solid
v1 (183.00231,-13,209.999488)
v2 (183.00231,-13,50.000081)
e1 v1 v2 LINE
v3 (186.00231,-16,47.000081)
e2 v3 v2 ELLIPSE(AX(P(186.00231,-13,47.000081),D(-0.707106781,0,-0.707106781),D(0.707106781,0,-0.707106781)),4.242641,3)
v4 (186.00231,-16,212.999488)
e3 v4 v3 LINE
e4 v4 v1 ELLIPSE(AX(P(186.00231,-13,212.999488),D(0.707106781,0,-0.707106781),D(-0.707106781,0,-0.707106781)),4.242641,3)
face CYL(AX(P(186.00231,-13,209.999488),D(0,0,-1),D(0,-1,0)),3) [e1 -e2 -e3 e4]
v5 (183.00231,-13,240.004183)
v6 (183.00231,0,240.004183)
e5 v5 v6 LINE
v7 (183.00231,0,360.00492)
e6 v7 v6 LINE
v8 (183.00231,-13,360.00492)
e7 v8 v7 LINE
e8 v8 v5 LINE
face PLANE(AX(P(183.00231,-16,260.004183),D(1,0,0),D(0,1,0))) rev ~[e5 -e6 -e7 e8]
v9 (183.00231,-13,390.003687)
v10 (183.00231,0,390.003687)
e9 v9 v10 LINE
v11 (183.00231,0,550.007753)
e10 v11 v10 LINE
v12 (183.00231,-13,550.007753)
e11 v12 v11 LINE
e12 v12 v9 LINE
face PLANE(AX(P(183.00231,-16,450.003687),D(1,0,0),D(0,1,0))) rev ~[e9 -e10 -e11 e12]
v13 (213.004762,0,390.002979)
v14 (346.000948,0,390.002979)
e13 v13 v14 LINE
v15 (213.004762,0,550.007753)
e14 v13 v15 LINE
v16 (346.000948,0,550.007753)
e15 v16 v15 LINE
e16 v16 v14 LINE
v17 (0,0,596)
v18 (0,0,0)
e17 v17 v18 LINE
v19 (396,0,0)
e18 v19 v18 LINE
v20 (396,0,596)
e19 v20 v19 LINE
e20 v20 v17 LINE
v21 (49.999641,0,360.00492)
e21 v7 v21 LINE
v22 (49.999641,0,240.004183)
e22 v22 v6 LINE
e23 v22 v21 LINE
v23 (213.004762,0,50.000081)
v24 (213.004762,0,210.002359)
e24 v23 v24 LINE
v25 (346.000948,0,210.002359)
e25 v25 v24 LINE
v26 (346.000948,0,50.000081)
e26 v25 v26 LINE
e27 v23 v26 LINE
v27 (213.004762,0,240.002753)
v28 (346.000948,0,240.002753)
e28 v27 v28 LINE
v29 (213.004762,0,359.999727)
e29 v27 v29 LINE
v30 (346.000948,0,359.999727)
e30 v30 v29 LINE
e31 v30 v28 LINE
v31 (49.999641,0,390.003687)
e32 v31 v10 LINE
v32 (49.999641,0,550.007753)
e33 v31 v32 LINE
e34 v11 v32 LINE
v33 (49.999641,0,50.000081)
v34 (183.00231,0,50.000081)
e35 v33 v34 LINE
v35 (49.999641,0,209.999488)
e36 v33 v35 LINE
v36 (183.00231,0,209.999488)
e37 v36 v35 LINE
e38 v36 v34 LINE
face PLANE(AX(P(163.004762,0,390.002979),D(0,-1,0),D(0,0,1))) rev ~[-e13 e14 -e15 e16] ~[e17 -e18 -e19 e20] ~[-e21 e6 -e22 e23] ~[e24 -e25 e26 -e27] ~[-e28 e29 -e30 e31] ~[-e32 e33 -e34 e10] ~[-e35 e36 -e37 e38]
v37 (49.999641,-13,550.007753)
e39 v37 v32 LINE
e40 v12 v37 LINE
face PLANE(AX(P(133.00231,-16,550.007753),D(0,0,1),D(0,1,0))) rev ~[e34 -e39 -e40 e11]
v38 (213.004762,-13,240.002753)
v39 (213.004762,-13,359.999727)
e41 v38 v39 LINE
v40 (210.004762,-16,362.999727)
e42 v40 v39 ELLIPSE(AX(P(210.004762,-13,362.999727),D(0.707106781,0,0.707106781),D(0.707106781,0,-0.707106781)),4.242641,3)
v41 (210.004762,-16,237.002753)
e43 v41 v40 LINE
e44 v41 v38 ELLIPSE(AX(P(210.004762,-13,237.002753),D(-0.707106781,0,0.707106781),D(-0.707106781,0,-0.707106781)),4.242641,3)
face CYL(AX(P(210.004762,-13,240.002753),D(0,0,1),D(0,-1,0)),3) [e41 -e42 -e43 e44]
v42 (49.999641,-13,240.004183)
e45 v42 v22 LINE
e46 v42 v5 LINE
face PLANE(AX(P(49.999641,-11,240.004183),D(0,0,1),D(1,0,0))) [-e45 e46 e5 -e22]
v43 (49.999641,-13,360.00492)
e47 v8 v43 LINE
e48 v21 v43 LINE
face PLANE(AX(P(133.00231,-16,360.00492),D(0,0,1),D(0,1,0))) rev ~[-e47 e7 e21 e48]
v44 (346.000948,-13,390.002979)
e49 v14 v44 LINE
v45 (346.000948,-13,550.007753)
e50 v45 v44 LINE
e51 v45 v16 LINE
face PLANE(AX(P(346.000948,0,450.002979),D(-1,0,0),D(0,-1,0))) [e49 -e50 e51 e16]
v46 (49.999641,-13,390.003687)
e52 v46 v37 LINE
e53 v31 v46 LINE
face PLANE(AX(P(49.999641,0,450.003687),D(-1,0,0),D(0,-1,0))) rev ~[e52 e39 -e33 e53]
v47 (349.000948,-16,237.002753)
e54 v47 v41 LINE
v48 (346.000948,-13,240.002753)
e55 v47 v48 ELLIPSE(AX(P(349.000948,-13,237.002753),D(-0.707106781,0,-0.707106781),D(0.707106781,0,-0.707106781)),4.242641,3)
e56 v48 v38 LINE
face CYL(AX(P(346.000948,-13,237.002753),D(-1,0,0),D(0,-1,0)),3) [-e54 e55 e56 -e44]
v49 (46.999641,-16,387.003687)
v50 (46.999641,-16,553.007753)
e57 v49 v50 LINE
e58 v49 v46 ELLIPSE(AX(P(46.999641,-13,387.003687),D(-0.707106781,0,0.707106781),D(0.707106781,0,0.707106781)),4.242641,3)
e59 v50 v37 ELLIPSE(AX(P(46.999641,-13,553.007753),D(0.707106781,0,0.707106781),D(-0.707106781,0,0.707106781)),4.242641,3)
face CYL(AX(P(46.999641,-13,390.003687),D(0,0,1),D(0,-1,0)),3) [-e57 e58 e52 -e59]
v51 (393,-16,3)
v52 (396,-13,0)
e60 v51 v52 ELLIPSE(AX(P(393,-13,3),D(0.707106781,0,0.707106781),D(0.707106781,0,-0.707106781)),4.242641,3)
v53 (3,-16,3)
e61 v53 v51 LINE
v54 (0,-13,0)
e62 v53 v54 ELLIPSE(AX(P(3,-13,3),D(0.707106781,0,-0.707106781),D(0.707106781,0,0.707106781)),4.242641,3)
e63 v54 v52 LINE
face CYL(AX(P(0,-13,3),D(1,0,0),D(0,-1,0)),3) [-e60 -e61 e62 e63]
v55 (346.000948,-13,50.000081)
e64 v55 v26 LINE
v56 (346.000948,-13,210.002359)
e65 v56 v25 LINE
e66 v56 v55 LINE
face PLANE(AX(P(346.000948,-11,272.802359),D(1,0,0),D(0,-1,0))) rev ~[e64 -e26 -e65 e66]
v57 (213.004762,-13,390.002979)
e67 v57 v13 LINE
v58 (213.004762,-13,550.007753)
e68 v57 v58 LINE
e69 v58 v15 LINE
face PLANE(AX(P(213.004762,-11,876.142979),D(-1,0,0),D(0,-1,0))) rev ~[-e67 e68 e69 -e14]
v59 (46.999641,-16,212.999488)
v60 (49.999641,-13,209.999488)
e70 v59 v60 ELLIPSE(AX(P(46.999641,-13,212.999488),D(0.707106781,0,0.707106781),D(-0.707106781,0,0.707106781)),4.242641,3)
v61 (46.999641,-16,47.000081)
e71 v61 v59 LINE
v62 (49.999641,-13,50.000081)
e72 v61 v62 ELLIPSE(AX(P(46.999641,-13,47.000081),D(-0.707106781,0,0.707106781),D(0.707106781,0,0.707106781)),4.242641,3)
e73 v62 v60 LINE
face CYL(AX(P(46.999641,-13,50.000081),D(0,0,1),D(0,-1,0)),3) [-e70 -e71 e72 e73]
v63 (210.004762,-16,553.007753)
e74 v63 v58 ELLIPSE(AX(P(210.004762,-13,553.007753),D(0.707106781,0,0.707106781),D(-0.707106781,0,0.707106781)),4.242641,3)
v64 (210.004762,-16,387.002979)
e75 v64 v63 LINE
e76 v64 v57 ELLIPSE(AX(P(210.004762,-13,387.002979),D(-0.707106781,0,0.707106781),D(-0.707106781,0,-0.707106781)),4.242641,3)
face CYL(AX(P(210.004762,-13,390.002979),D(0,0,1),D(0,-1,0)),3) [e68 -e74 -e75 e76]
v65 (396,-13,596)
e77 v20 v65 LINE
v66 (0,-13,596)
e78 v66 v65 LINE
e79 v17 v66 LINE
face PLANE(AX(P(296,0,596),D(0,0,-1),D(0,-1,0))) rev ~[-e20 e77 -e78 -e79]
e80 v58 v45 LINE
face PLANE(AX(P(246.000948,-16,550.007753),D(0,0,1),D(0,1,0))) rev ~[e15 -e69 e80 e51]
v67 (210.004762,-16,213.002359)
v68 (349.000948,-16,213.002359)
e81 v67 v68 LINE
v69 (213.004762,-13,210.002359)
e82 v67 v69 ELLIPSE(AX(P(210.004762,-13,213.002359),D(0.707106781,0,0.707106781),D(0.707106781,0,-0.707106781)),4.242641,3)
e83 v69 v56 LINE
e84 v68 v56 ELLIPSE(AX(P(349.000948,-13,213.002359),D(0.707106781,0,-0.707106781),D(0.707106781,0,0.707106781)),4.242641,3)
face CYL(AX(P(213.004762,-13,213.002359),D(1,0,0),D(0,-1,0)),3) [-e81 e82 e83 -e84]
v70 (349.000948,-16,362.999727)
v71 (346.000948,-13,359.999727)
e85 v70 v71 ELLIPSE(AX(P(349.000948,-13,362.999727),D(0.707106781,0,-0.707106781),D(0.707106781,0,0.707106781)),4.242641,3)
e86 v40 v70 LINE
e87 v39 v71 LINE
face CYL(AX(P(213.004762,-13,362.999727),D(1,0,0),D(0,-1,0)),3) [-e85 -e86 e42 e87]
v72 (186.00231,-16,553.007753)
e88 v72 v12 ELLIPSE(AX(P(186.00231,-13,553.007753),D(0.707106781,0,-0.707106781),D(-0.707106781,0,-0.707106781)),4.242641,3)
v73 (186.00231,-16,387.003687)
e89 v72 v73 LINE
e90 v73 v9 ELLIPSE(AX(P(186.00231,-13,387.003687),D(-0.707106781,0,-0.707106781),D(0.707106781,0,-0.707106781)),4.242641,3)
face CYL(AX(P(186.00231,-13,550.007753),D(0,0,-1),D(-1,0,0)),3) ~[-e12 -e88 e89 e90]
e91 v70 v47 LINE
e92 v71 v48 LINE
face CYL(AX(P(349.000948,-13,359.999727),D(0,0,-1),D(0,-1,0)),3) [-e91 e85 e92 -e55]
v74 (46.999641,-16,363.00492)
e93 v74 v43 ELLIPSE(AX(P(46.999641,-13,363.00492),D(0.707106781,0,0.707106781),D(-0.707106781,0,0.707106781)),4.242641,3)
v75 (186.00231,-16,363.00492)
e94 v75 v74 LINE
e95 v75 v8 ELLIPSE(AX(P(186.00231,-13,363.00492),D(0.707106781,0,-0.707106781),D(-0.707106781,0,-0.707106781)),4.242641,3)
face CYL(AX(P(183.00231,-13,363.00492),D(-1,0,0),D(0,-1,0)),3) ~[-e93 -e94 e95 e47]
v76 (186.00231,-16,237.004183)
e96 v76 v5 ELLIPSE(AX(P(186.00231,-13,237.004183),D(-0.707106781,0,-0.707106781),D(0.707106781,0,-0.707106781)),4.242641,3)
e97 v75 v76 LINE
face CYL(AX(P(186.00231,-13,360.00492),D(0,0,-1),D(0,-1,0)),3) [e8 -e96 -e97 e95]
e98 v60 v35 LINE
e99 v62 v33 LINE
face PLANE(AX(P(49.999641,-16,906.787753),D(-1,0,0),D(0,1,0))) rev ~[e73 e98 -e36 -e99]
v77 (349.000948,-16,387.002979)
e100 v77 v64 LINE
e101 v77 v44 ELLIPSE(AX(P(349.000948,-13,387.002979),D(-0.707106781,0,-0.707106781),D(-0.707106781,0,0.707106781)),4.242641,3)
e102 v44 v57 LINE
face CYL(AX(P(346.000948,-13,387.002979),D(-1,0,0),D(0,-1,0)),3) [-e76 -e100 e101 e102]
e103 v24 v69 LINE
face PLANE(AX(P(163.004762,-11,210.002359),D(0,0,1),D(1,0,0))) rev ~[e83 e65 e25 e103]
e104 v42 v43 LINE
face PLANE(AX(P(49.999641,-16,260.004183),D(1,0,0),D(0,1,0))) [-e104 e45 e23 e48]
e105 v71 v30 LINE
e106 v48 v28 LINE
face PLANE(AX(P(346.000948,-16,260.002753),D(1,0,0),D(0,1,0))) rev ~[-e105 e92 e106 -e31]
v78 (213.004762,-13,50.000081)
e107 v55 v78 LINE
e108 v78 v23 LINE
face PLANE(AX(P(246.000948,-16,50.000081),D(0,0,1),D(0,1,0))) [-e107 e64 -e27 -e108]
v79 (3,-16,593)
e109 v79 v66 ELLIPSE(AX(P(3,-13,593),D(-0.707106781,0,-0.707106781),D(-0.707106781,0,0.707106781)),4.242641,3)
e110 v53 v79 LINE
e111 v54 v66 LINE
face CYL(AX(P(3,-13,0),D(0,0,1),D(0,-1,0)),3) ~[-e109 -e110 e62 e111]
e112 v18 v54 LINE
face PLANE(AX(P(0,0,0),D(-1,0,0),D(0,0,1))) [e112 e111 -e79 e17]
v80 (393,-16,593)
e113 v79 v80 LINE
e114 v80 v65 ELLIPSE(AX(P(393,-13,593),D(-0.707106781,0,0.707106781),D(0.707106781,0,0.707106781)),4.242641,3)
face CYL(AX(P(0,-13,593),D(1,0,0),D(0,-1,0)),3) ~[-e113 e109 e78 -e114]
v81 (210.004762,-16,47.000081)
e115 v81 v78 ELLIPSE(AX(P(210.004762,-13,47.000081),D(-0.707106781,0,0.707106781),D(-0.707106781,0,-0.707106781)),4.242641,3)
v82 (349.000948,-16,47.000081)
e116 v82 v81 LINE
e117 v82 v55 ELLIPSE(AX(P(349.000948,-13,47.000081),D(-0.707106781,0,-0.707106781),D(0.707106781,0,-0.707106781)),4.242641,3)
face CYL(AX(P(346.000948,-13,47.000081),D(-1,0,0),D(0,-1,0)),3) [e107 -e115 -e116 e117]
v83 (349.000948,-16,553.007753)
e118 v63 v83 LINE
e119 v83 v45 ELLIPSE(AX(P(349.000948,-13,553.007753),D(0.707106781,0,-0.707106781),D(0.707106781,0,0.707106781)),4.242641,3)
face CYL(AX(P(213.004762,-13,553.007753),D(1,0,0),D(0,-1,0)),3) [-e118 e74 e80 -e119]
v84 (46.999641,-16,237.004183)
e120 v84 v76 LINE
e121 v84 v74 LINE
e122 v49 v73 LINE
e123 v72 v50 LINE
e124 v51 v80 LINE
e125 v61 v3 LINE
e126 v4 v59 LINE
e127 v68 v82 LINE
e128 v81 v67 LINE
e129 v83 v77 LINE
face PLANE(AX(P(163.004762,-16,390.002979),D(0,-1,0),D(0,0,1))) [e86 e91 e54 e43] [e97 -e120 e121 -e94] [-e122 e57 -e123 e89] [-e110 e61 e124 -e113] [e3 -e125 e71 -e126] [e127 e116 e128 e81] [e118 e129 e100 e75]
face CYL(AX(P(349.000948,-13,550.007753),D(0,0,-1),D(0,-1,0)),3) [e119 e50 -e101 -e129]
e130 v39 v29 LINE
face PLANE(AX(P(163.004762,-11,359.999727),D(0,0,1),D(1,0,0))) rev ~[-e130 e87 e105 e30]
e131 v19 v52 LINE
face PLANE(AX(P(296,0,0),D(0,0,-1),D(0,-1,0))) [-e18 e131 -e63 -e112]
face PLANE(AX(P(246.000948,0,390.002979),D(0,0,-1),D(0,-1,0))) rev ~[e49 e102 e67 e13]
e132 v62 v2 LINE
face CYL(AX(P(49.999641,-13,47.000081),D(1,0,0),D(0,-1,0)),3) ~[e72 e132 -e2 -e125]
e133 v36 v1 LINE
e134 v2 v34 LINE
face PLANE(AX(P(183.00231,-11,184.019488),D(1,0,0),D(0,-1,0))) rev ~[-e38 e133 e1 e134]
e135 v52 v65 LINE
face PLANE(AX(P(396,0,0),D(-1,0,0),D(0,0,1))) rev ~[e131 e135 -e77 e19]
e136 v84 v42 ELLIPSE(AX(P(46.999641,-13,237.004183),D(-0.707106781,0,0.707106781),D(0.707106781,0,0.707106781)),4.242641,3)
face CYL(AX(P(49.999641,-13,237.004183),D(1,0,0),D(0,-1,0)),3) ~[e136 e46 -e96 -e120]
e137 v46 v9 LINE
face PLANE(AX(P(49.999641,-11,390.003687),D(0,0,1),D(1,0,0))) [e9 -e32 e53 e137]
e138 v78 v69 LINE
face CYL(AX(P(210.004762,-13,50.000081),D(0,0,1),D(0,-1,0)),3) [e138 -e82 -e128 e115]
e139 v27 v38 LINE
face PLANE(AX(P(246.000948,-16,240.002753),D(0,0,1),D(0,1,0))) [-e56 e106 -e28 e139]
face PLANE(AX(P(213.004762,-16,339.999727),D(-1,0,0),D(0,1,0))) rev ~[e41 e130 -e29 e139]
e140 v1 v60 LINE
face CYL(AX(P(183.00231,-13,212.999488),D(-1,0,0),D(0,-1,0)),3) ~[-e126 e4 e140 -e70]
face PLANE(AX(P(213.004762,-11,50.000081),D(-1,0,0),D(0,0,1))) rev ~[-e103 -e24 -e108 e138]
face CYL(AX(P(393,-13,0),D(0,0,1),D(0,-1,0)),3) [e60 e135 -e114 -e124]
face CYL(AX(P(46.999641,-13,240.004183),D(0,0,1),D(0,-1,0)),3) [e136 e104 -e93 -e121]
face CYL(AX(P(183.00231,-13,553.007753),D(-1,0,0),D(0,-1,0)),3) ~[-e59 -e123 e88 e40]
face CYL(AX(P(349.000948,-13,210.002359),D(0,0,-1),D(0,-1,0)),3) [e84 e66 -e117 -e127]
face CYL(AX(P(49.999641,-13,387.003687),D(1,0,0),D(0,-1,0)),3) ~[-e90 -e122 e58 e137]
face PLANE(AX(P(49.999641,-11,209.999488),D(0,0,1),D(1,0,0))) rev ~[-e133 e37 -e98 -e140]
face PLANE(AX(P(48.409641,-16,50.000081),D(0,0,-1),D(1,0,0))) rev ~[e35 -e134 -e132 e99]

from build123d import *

# Parameters (mm, degrees)
F0_W      = 28.8499742746
F0_H      = 37.8827601671
F1_DEPTH  = 16
F2_DEPTH  = 296
F3_DEPTH  = 996
F4_W      = 199.8313069344
F4_H      = 801.1276721954
F5_DEPTH  = 5
F6_DEPTH  = 39.21
F7_DEPTH  = 2.24
F8_DEPTH  = 55.66
F9_DEPTH  = 1.59
F10_W     = 54.77245152
F10_H     = 895.9976721954
F11_DEPTH = 5
F12_DEPTH = 5.86
F13_DEPTH = 18.91
F14_W     = 83.0026693535
F14_H     = 34.9487662315
F14_H_2   = 55.274695158
F15_W     = 82.9961860609
F15_H     = 44.8832511902
F15_H_2   = 52.5203943253
F16_DEPTH = 5
F17_DEPTH = 300
F18_DEPTH = 300
F19_DEPTH = 324.79
F20_DEPTH = 324.79
F21_DEPTH = 250
F22_DEPTH = 250
F23_DEPTH = 100
F24_DEPTH = 100
F25_DEPTH = 50
F26_DEPTH = 50
F27_DEPTH = 134.02
F28_DEPTH = 100
F29_DEPTH = 100
F30_DEPTH = 100
F31_DEPTH = 50
F32_DEPTH = 54.95
F33_DEPTH = 50
F34_DEPTH = 109.29
F35_DEPTH = 14.88
F36_DEPTH = 230.15
F37_DEPTH = 230.15
F38_DEPTH = 22.52
F39_DEPTH = 77.2
F40_DEPTH = 77.2
F41_DEPTH = 11
F42_DEPTH = 100
F43_DEPTH = 100
F44_DEPTH = 195.99
F45_DEPTH = 195.99
F46_DEPTH = 295.99
F47_DEPTH = 295.99
F48_DEPTH = 100
F49_DEPTH = 104.01
F50_DEPTH = 20
F51_DEPTH = 20
F52_DEPTH = 20
F53_DEPTH = 80
F54_DEPTH = 80
F55_DEPTH = 20
F56_DEPTH = 20
F57_DEPTH = 20
F58_DEPTH = 20
F59_DEPTH = 100
F60_DEPTH = 100
F61_DEPTH = 50
F62_DEPTH = 50
F63_R     = 3


with BuildPart() as f1:
    # F0 (on Front) → F1 (new body)
    with BuildSketch(Plane.XZ):
        with Locations((14.4249871373, 18.9413800836)):
            Rectangle(F0_W, F0_H)
    extrude(amount=F1_DEPTH)

    # F2 (add): a face of the model
    f2_faces = [f1.faces().sort_by_distance(p)[0] for p in [
        (0, -8, 18.9413800836),
    ]]
    extrude(f2_faces, amount=-F2_DEPTH)

    # F3 (add): a face of the model
    f3_faces = [f1.faces().sort_by_distance(p)[0] for p in [
        (148, -8, 0),
    ]]
    extrude(f3_faces, amount=-F3_DEPTH)

    # F4 (on face) → F5 (cut)
    with BuildSketch(Plane.XZ.offset(16)):
        with Locations((148.3252942562, 506.2239170074)):
            Rectangle(F4_W, F4_H)
    extrude(amount=-F5_DEPTH, mode=Mode.SUBTRACT)

    # F6 (cut): a face of the model
    f6_faces = [f1.faces().sort_by_distance(p)[0] for p in [
        (148.3252942562, -13.5, 906.7877531052),
    ]]
    extrude(f6_faces, amount=-F6_DEPTH, mode=Mode.SUBTRACT)

    # F7 (add): a face of the model
    f7_faces = [f1.faces().sort_by_distance(p)[0] for p in [
        (248.2409477234, -13.5, 525.8289170074),
    ]]
    extrude(f7_faces, amount=F7_DEPTH)

    # F8 (cut): a face of the model
    f8_faces = [f1.faces().sort_by_distance(p)[0] for p in [
        (147.2052942562, -13.5, 105.6600809097),
    ]]
    extrude(f8_faces, amount=-F8_DEPTH, mode=Mode.SUBTRACT)

    # F9 (add): a face of the model
    f9_faces = [f1.faces().sort_by_distance(p)[0] for p in [
        (48.409640789, -13.5, 497.9989170074),
    ]]
    extrude(f9_faces, amount=F9_DEPTH)

    # F10 (on face) → F11 (join)
    with BuildSketch(Plane.XZ.offset(11)):
        with Locations((154.5285359025, 497.9989170074)):
            Rectangle(F10_W, F10_H)
    extrude(amount=F11_DEPTH)

    # F12 (cut): a face of the model
    f12_faces = [f1.faces().sort_by_distance(p)[0] for p in [
        (127.1423101425, -13.5, 497.9989170074),
    ]]
    extrude(f12_faces, amount=-F12_DEPTH, mode=Mode.SUBTRACT)

    # F13 (cut): a face of the model
    f13_faces = [f1.faces().sort_by_distance(p)[0] for p in [
        (181.9147616625, -13.5, 497.9989170074),
    ]]
    extrude(f13_faces, amount=-F13_DEPTH, mode=Mode.SUBTRACT)

    # F14 (on face) + F15 (on face) → F16 (join)
    with BuildSketch(Plane.XZ.offset(11)):
        with Locations((91.5009754658, 853.3093035221)):
            Rectangle(F14_W, F14_H)
        with Locations((91.5009754658, 511.6568356752)):
            Rectangle(F14_W, F14_H_2)
    with BuildSketch(Plane.XZ.offset(11)):
        with Locations((204.5028546929, 853.7013530731)):
            Rectangle(F15_W, F15_H)
        with Locations((204.5028546929, 576.5425562859)):
            Rectangle(F15_W, F15_H_2)
    extrude(amount=F16_DEPTH)

    # F17 (add): faces of the model
    f17_faces = [f1.faces().sort_by_distance(p)[0] for p in [
        (204.5028546929, -13.5, 550.2823591232),
        (91.5009754658, -13.5, 484.0194880962),
    ]]
    extrude(f17_faces, amount=F17_DEPTH)

    # F18 (cut): faces of the model
    f18_faces = [f1.faces().sort_by_distance(p)[0] for p in [
        (91.5009754658, -13.5, 539.2941832542),
        (204.5028546929, -13.5, 602.8027534485),
    ]]
    extrude(f18_faces, amount=-F18_DEPTH, mode=Mode.SUBTRACT)

    # F19 (add): a face of the model
    f19_faces = [f1.faces().sort_by_distance(p)[0] for p in [
        (91.5009754658, -13.5, 835.8349204063),
    ]]
    extrude(f19_faces, amount=F19_DEPTH)

    # F20 (cut): a face of the model
    f20_faces = [f1.faces().sort_by_distance(p)[0] for p in [
        (91.5009754658, -13.5, 870.7836866379),
    ]]
    extrude(f20_faces, amount=-F20_DEPTH, mode=Mode.SUBTRACT)

    # F21 (add): a face of the model
    f21_faces = [f1.faces().sort_by_distance(p)[0] for p in [
        (91.5009754658, -13.5, 239.2941832542),
    ]]
    extrude(f21_faces, amount=F21_DEPTH)

    # F22 (cut): a face of the model
    f22_faces = [f1.faces().sort_by_distance(p)[0] for p in [
        (91.5009754658, -13.5, 184.0194880962),
    ]]
    extrude(f22_faces, amount=-F22_DEPTH, mode=Mode.SUBTRACT)

    # F23 (add): a face of the model
    f23_faces = [f1.faces().sort_by_distance(p)[0] for p in [
        (91.5009754658, -13.5, 545.9936866379),
    ]]
    extrude(f23_faces, amount=F23_DEPTH)

    # F24 (cut): a face of the model
    f24_faces = [f1.faces().sort_by_distance(p)[0] for p in [
        (91.5009754658, -13.5, 511.0449204063),
    ]]
    extrude(f24_faces, amount=-F24_DEPTH, mode=Mode.SUBTRACT)

    # F25 (add): a face of the model
    f25_faces = [f1.faces().sort_by_distance(p)[0] for p in [
        (91.5009754658, -13.5, 645.9936866379),
    ]]
    extrude(f25_faces, amount=F25_DEPTH)

    # F26 (cut): a face of the model
    f26_faces = [f1.faces().sort_by_distance(p)[0] for p in [
        (91.5009754658, -13.5, 611.0449204063),
    ]]
    extrude(f26_faces, amount=-F26_DEPTH, mode=Mode.SUBTRACT)

    # F27 (add): a face of the model
    f27_faces = [f1.faces().sort_by_distance(p)[0] for p in [
        (91.5009754658, -13.5, 434.0194880962),
    ]]
    extrude(f27_faces, amount=F27_DEPTH)

    # F28 (cut): a face of the model
    f28_faces = [f1.faces().sort_by_distance(p)[0] for p in [
        (91.5009754658, -13.5, 299.9994880962),
    ]]
    extrude(f28_faces, amount=-F28_DEPTH, mode=Mode.SUBTRACT)

    # F29 (add): a face of the model
    f29_faces = [f1.faces().sort_by_distance(p)[0] for p in [
        (91.5009754658, -13.5, 661.0449204063),
    ]]
    extrude(f29_faces, amount=F29_DEPTH)

    # F30 (cut): a face of the model
    f30_faces = [f1.faces().sort_by_distance(p)[0] for p in [
        (91.5009754658, -13.5, 695.9936866379),
    ]]
    extrude(f30_faces, amount=-F30_DEPTH, mode=Mode.SUBTRACT)

    # F31 (add): a face of the model
    f31_faces = [f1.faces().sort_by_distance(p)[0] for p in [
        (91.5009754658, -13.5, 595.9936866379),
    ]]
    extrude(f31_faces, amount=F31_DEPTH)

    # F32 (cut): a face of the model
    f32_faces = [f1.faces().sort_by_distance(p)[0] for p in [
        (91.5009754658, -13.5, 561.0449204063),
    ]]
    extrude(f32_faces, amount=-F32_DEPTH, mode=Mode.SUBTRACT)

    # F33 (add): a face of the model
    f33_faces = [f1.faces().sort_by_distance(p)[0] for p in [
        (91.5009754658, -13.5, 399.9994880962),
    ]]
    extrude(f33_faces, amount=F33_DEPTH)

    # F34 (cut): a face of the model
    f34_faces = [f1.faces().sort_by_distance(p)[0] for p in [
        (91.5009754658, -13.5, 489.2941832542),
    ]]
    extrude(f34_faces, amount=-F34_DEPTH, mode=Mode.SUBTRACT)

    # F35 (cut): a face of the model
    f35_faces = [f1.faces().sort_by_distance(p)[0] for p in [
        (204.5028546929, -13.5, 831.259727478),
    ]]
    extrude(f35_faces, amount=-F35_DEPTH, mode=Mode.SUBTRACT)

    # F36 (add): a face of the model
    f36_faces = [f1.faces().sort_by_distance(p)[0] for p in [
        (204.5028546929, -13.5, 846.139727478),
    ]]
    extrude(f36_faces, amount=F36_DEPTH)

    # F37 (cut): a face of the model
    f37_faces = [f1.faces().sort_by_distance(p)[0] for p in [
        (204.5028546929, -13.5, 876.1429786682),
    ]]
    extrude(f37_faces, amount=-F37_DEPTH, mode=Mode.SUBTRACT)

    # F38 (cut): a face of the model
    f38_faces = [f1.faces().sort_by_distance(p)[0] for p in [
        (204.5028546929, -13.5, 250.2823591232),
    ]]
    extrude(f38_faces, amount=-F38_DEPTH, mode=Mode.SUBTRACT)

    # F39 (add): a face of the model
    f39_faces = [f1.faces().sort_by_distance(p)[0] for p in [
        (204.5028546929, -13.5, 302.8027534485),
    ]]
    extrude(f39_faces, amount=F39_DEPTH)

    # F40 (cut): a face of the model
    f40_faces = [f1.faces().sort_by_distance(p)[0] for p in [
        (204.5028546929, -13.5, 272.8023591232),
    ]]
    extrude(f40_faces, amount=-F40_DEPTH, mode=Mode.SUBTRACT)

    # F41 (cut): faces of the model
    f41_faces = [f1.faces().sort_by_distance(p)[0] for p in [
        (91.5009754658, -11, 795.9957198715),
        (204.5028546929, -11, 795.9953658867),
        (204.5028546929, -11, 497.9962404633),
        (91.5009754658, -11, 497.9995518303),
        (91.5009754658, -11, 199.999784503),
        (204.5028546929, -11, 200.0012200165),
    ]]
    extrude(f41_faces, amount=-F41_DEPTH, mode=Mode.SUBTRACT)

    # F42 (add): faces of the model
    f42_faces = [f1.faces().sort_by_distance(p)[0] for p in [
        (91.5009754658, -8, 349.9994880962),
        (204.5028546929, -8, 350.0023591232),
    ]]
    extrude(f42_faces, amount=F42_DEPTH)

    # F43 (cut): faces of the model
    f43_faces = [f1.faces().sort_by_distance(p)[0] for p in [
        (91.5009754658, -8, 380.0041832542),
        (204.5028546929, -8, 380.0027534485),
    ]]
    extrude(f43_faces, amount=-F43_DEPTH, mode=Mode.SUBTRACT)

    # F44 (add): faces of the model
    f44_faces = [f1.faces().sort_by_distance(p)[0] for p in [
        (91.5009754658, -8, 615.9949204063),
        (204.5028546929, -8, 615.989727478),
    ]]
    extrude(f44_faces, amount=F44_DEPTH)

    # F45 (cut): faces of the model
    f45_faces = [f1.faces().sort_by_distance(p)[0] for p in [
        (91.5009754658, -8, 645.9936866379),
        (204.5028546929, -8, 645.9929786682),
    ]]
    extrude(f45_faces, amount=-F45_DEPTH, mode=Mode.SUBTRACT)

    # F46 (add): faces of the model
    f46_faces = [f1.faces().sort_by_distance(p)[0] for p in [
        (91.5009754658, -8, 945.9977531052),
        (204.5028546929, -8, 945.9977531052),
    ]]
    extrude(f46_faces, amount=F46_DEPTH)

    # F47 (cut): a face of the model
    f47_faces = [f1.faces().sort_by_distance(p)[0] for p in [
        (148, -8, 996),
    ]]
    extrude(f47_faces, amount=-F47_DEPTH, mode=Mode.SUBTRACT)

    # F48 (add): faces of the model
    f48_faces = [f1.faces().sort_by_distance(p)[0] for p in [
        (204.5028546929, -8, 650.0077531052),
        (91.5009754658, -8, 650.0077531052),
    ]]
    extrude(f48_faces, amount=F48_DEPTH)

    # F49 (cut): a face of the model
    f49_faces = [f1.faces().sort_by_distance(p)[0] for p in [
        (148, -8, 700.01),
    ]]
    extrude(f49_faces, amount=-F49_DEPTH, mode=Mode.SUBTRACT)

    # F50 (add): a face of the model
    f50_faces = [f1.faces().sort_by_distance(p)[0] for p in [
        (91.5009754658, -8, 249.9994880962),
    ]]
    extrude(f50_faces, amount=F50_DEPTH)

    # F51 (add): a face of the model
    f51_faces = [f1.faces().sort_by_distance(p)[0] for p in [
        (204.5028546929, -8, 250.0023591232),
    ]]
    extrude(f51_faces, amount=F51_DEPTH)

    # F52 (cut): faces of the model
    f52_faces = [f1.faces().sort_by_distance(p)[0] for p in [
        (91.5009754658, -8, 280.0041832542),
        (204.5028546929, -8, 280.0027534485),
    ]]
    extrude(f52_faces, amount=-F52_DEPTH, mode=Mode.SUBTRACT)

    # F53 (add): faces of the model
    f53_faces = [f1.faces().sort_by_distance(p)[0] for p in [
        (204.5028546929, -8, 419.999727478),
        (91.5009754658, -8, 420.0049204063),
    ]]
    extrude(f53_faces, amount=F53_DEPTH)

    # F54 (cut): faces of the model
    f54_faces = [f1.faces().sort_by_distance(p)[0] for p in [
        (91.5009754658, -8, 450.0036866379),
        (204.5028546929, -8, 450.0029786682),
    ]]
    extrude(f54_faces, amount=-F54_DEPTH, mode=Mode.SUBTRACT)

    # F55 (add): faces of the model
    f55_faces = [f1.faces().sort_by_distance(p)[0] for p in [
        (204.5028546929, -8, 370.0029786682),
        (91.5009754658, -8, 370.0036866379),
    ]]
    extrude(f55_faces, amount=F55_DEPTH)

    # F56 (cut): faces of the model
    f56_faces = [f1.faces().sort_by_distance(p)[0] for p in [
        (91.5009754658, -8, 340.0049204063),
        (204.5028546929, -8, 339.999727478),
    ]]
    extrude(f56_faces, amount=-F56_DEPTH, mode=Mode.SUBTRACT)

    # F57 (add): faces of the model
    f57_faces = [f1.faces().sort_by_distance(p)[0] for p in [
        (204.5028546929, -8, 230.0023591232),
        (91.5009754658, -8, 229.9994880962),
    ]]
    extrude(f57_faces, amount=F57_DEPTH)

    # F58 (cut): faces of the model
    f58_faces = [f1.faces().sort_by_distance(p)[0] for p in [
        (204.5028546929, -8, 260.0027534485),
        (91.5009754658, -8, 260.0041832542),
    ]]
    extrude(f58_faces, amount=-F58_DEPTH, mode=Mode.SUBTRACT)

    # F59 (add): a face of the model
    f59_faces = [f1.faces().sort_by_distance(p)[0] for p in [
        (296, -8, 298),
    ]]
    extrude(f59_faces, amount=F59_DEPTH)

    # F60 (cut): faces of the model
    f60_faces = [f1.faces().sort_by_distance(p)[0] for p in [
        (246.0009477234, -8, 470.0053658867),
        (246.0009477234, -8, 300.0012404633),
        (246.0009477234, -8, 130.0012200165),
    ]]
    extrude(f60_faces, amount=-F60_DEPTH, mode=Mode.SUBTRACT)

    # F61 (add): faces of the model
    f61_faces = [f1.faces().sort_by_distance(p)[0] for p in [
        (163.0047616625, -8, 470.0053658867),
        (163.0047616625, -8, 300.0012404633),
        (163.0047616625, -8, 130.0012200165),
    ]]
    extrude(f61_faces, amount=F61_DEPTH)

    # F62 (cut): faces of the model
    f62_faces = [f1.faces().sort_by_distance(p)[0] for p in [
        (133.0023101425, -8, 470.0057198715),
        (133.0023101425, -8, 300.0045518303),
        (133.0023101425, -8, 129.999784503),
    ]]
    extrude(f62_faces, amount=-F62_DEPTH, mode=Mode.SUBTRACT)

    # F63
    f63_edges = [f1.edges().sort_by_distance(p)[0] for p in [
        (0, -16, 298),
        (198, -16, 0),
        (396, -16, 298),
        (198, -16, 596),
        (116.500975, -16, 209.999488),
        (183.00231, -16, 129.999785),
        (116.500975, -16, 50.000081),
        (49.999641, -16, 129.999785),
        (279.502855, -16, 210.002359),
        (346.000948, -16, 130.00122),
        (279.502855, -16, 50.000081),
        (213.004762, -16, 130.00122),
        (279.502855, -16, 359.999727),
        (346.000948, -16, 300.00124),
        (279.502855, -16, 240.002753),
        (213.004762, -16, 300.00124),
        (116.500975, -16, 360.00492),
        (183.00231, -16, 300.004552),
        (116.500975, -16, 240.004183),
        (49.999641, -16, 300.004552),
        (116.500975, -16, 390.003687),
        (49.999641, -16, 470.00572),
        (116.500975, -16, 550.007753),
        (183.00231, -16, 470.00572),
        (279.502855, -16, 390.002979),
        (213.004762, -16, 470.005366),
        (279.502855, -16, 550.007753),
        (346.000948, -16, 470.005366),
    ]]
    fillet(f63_edges, radius=F63_R)


solid = f1.part
